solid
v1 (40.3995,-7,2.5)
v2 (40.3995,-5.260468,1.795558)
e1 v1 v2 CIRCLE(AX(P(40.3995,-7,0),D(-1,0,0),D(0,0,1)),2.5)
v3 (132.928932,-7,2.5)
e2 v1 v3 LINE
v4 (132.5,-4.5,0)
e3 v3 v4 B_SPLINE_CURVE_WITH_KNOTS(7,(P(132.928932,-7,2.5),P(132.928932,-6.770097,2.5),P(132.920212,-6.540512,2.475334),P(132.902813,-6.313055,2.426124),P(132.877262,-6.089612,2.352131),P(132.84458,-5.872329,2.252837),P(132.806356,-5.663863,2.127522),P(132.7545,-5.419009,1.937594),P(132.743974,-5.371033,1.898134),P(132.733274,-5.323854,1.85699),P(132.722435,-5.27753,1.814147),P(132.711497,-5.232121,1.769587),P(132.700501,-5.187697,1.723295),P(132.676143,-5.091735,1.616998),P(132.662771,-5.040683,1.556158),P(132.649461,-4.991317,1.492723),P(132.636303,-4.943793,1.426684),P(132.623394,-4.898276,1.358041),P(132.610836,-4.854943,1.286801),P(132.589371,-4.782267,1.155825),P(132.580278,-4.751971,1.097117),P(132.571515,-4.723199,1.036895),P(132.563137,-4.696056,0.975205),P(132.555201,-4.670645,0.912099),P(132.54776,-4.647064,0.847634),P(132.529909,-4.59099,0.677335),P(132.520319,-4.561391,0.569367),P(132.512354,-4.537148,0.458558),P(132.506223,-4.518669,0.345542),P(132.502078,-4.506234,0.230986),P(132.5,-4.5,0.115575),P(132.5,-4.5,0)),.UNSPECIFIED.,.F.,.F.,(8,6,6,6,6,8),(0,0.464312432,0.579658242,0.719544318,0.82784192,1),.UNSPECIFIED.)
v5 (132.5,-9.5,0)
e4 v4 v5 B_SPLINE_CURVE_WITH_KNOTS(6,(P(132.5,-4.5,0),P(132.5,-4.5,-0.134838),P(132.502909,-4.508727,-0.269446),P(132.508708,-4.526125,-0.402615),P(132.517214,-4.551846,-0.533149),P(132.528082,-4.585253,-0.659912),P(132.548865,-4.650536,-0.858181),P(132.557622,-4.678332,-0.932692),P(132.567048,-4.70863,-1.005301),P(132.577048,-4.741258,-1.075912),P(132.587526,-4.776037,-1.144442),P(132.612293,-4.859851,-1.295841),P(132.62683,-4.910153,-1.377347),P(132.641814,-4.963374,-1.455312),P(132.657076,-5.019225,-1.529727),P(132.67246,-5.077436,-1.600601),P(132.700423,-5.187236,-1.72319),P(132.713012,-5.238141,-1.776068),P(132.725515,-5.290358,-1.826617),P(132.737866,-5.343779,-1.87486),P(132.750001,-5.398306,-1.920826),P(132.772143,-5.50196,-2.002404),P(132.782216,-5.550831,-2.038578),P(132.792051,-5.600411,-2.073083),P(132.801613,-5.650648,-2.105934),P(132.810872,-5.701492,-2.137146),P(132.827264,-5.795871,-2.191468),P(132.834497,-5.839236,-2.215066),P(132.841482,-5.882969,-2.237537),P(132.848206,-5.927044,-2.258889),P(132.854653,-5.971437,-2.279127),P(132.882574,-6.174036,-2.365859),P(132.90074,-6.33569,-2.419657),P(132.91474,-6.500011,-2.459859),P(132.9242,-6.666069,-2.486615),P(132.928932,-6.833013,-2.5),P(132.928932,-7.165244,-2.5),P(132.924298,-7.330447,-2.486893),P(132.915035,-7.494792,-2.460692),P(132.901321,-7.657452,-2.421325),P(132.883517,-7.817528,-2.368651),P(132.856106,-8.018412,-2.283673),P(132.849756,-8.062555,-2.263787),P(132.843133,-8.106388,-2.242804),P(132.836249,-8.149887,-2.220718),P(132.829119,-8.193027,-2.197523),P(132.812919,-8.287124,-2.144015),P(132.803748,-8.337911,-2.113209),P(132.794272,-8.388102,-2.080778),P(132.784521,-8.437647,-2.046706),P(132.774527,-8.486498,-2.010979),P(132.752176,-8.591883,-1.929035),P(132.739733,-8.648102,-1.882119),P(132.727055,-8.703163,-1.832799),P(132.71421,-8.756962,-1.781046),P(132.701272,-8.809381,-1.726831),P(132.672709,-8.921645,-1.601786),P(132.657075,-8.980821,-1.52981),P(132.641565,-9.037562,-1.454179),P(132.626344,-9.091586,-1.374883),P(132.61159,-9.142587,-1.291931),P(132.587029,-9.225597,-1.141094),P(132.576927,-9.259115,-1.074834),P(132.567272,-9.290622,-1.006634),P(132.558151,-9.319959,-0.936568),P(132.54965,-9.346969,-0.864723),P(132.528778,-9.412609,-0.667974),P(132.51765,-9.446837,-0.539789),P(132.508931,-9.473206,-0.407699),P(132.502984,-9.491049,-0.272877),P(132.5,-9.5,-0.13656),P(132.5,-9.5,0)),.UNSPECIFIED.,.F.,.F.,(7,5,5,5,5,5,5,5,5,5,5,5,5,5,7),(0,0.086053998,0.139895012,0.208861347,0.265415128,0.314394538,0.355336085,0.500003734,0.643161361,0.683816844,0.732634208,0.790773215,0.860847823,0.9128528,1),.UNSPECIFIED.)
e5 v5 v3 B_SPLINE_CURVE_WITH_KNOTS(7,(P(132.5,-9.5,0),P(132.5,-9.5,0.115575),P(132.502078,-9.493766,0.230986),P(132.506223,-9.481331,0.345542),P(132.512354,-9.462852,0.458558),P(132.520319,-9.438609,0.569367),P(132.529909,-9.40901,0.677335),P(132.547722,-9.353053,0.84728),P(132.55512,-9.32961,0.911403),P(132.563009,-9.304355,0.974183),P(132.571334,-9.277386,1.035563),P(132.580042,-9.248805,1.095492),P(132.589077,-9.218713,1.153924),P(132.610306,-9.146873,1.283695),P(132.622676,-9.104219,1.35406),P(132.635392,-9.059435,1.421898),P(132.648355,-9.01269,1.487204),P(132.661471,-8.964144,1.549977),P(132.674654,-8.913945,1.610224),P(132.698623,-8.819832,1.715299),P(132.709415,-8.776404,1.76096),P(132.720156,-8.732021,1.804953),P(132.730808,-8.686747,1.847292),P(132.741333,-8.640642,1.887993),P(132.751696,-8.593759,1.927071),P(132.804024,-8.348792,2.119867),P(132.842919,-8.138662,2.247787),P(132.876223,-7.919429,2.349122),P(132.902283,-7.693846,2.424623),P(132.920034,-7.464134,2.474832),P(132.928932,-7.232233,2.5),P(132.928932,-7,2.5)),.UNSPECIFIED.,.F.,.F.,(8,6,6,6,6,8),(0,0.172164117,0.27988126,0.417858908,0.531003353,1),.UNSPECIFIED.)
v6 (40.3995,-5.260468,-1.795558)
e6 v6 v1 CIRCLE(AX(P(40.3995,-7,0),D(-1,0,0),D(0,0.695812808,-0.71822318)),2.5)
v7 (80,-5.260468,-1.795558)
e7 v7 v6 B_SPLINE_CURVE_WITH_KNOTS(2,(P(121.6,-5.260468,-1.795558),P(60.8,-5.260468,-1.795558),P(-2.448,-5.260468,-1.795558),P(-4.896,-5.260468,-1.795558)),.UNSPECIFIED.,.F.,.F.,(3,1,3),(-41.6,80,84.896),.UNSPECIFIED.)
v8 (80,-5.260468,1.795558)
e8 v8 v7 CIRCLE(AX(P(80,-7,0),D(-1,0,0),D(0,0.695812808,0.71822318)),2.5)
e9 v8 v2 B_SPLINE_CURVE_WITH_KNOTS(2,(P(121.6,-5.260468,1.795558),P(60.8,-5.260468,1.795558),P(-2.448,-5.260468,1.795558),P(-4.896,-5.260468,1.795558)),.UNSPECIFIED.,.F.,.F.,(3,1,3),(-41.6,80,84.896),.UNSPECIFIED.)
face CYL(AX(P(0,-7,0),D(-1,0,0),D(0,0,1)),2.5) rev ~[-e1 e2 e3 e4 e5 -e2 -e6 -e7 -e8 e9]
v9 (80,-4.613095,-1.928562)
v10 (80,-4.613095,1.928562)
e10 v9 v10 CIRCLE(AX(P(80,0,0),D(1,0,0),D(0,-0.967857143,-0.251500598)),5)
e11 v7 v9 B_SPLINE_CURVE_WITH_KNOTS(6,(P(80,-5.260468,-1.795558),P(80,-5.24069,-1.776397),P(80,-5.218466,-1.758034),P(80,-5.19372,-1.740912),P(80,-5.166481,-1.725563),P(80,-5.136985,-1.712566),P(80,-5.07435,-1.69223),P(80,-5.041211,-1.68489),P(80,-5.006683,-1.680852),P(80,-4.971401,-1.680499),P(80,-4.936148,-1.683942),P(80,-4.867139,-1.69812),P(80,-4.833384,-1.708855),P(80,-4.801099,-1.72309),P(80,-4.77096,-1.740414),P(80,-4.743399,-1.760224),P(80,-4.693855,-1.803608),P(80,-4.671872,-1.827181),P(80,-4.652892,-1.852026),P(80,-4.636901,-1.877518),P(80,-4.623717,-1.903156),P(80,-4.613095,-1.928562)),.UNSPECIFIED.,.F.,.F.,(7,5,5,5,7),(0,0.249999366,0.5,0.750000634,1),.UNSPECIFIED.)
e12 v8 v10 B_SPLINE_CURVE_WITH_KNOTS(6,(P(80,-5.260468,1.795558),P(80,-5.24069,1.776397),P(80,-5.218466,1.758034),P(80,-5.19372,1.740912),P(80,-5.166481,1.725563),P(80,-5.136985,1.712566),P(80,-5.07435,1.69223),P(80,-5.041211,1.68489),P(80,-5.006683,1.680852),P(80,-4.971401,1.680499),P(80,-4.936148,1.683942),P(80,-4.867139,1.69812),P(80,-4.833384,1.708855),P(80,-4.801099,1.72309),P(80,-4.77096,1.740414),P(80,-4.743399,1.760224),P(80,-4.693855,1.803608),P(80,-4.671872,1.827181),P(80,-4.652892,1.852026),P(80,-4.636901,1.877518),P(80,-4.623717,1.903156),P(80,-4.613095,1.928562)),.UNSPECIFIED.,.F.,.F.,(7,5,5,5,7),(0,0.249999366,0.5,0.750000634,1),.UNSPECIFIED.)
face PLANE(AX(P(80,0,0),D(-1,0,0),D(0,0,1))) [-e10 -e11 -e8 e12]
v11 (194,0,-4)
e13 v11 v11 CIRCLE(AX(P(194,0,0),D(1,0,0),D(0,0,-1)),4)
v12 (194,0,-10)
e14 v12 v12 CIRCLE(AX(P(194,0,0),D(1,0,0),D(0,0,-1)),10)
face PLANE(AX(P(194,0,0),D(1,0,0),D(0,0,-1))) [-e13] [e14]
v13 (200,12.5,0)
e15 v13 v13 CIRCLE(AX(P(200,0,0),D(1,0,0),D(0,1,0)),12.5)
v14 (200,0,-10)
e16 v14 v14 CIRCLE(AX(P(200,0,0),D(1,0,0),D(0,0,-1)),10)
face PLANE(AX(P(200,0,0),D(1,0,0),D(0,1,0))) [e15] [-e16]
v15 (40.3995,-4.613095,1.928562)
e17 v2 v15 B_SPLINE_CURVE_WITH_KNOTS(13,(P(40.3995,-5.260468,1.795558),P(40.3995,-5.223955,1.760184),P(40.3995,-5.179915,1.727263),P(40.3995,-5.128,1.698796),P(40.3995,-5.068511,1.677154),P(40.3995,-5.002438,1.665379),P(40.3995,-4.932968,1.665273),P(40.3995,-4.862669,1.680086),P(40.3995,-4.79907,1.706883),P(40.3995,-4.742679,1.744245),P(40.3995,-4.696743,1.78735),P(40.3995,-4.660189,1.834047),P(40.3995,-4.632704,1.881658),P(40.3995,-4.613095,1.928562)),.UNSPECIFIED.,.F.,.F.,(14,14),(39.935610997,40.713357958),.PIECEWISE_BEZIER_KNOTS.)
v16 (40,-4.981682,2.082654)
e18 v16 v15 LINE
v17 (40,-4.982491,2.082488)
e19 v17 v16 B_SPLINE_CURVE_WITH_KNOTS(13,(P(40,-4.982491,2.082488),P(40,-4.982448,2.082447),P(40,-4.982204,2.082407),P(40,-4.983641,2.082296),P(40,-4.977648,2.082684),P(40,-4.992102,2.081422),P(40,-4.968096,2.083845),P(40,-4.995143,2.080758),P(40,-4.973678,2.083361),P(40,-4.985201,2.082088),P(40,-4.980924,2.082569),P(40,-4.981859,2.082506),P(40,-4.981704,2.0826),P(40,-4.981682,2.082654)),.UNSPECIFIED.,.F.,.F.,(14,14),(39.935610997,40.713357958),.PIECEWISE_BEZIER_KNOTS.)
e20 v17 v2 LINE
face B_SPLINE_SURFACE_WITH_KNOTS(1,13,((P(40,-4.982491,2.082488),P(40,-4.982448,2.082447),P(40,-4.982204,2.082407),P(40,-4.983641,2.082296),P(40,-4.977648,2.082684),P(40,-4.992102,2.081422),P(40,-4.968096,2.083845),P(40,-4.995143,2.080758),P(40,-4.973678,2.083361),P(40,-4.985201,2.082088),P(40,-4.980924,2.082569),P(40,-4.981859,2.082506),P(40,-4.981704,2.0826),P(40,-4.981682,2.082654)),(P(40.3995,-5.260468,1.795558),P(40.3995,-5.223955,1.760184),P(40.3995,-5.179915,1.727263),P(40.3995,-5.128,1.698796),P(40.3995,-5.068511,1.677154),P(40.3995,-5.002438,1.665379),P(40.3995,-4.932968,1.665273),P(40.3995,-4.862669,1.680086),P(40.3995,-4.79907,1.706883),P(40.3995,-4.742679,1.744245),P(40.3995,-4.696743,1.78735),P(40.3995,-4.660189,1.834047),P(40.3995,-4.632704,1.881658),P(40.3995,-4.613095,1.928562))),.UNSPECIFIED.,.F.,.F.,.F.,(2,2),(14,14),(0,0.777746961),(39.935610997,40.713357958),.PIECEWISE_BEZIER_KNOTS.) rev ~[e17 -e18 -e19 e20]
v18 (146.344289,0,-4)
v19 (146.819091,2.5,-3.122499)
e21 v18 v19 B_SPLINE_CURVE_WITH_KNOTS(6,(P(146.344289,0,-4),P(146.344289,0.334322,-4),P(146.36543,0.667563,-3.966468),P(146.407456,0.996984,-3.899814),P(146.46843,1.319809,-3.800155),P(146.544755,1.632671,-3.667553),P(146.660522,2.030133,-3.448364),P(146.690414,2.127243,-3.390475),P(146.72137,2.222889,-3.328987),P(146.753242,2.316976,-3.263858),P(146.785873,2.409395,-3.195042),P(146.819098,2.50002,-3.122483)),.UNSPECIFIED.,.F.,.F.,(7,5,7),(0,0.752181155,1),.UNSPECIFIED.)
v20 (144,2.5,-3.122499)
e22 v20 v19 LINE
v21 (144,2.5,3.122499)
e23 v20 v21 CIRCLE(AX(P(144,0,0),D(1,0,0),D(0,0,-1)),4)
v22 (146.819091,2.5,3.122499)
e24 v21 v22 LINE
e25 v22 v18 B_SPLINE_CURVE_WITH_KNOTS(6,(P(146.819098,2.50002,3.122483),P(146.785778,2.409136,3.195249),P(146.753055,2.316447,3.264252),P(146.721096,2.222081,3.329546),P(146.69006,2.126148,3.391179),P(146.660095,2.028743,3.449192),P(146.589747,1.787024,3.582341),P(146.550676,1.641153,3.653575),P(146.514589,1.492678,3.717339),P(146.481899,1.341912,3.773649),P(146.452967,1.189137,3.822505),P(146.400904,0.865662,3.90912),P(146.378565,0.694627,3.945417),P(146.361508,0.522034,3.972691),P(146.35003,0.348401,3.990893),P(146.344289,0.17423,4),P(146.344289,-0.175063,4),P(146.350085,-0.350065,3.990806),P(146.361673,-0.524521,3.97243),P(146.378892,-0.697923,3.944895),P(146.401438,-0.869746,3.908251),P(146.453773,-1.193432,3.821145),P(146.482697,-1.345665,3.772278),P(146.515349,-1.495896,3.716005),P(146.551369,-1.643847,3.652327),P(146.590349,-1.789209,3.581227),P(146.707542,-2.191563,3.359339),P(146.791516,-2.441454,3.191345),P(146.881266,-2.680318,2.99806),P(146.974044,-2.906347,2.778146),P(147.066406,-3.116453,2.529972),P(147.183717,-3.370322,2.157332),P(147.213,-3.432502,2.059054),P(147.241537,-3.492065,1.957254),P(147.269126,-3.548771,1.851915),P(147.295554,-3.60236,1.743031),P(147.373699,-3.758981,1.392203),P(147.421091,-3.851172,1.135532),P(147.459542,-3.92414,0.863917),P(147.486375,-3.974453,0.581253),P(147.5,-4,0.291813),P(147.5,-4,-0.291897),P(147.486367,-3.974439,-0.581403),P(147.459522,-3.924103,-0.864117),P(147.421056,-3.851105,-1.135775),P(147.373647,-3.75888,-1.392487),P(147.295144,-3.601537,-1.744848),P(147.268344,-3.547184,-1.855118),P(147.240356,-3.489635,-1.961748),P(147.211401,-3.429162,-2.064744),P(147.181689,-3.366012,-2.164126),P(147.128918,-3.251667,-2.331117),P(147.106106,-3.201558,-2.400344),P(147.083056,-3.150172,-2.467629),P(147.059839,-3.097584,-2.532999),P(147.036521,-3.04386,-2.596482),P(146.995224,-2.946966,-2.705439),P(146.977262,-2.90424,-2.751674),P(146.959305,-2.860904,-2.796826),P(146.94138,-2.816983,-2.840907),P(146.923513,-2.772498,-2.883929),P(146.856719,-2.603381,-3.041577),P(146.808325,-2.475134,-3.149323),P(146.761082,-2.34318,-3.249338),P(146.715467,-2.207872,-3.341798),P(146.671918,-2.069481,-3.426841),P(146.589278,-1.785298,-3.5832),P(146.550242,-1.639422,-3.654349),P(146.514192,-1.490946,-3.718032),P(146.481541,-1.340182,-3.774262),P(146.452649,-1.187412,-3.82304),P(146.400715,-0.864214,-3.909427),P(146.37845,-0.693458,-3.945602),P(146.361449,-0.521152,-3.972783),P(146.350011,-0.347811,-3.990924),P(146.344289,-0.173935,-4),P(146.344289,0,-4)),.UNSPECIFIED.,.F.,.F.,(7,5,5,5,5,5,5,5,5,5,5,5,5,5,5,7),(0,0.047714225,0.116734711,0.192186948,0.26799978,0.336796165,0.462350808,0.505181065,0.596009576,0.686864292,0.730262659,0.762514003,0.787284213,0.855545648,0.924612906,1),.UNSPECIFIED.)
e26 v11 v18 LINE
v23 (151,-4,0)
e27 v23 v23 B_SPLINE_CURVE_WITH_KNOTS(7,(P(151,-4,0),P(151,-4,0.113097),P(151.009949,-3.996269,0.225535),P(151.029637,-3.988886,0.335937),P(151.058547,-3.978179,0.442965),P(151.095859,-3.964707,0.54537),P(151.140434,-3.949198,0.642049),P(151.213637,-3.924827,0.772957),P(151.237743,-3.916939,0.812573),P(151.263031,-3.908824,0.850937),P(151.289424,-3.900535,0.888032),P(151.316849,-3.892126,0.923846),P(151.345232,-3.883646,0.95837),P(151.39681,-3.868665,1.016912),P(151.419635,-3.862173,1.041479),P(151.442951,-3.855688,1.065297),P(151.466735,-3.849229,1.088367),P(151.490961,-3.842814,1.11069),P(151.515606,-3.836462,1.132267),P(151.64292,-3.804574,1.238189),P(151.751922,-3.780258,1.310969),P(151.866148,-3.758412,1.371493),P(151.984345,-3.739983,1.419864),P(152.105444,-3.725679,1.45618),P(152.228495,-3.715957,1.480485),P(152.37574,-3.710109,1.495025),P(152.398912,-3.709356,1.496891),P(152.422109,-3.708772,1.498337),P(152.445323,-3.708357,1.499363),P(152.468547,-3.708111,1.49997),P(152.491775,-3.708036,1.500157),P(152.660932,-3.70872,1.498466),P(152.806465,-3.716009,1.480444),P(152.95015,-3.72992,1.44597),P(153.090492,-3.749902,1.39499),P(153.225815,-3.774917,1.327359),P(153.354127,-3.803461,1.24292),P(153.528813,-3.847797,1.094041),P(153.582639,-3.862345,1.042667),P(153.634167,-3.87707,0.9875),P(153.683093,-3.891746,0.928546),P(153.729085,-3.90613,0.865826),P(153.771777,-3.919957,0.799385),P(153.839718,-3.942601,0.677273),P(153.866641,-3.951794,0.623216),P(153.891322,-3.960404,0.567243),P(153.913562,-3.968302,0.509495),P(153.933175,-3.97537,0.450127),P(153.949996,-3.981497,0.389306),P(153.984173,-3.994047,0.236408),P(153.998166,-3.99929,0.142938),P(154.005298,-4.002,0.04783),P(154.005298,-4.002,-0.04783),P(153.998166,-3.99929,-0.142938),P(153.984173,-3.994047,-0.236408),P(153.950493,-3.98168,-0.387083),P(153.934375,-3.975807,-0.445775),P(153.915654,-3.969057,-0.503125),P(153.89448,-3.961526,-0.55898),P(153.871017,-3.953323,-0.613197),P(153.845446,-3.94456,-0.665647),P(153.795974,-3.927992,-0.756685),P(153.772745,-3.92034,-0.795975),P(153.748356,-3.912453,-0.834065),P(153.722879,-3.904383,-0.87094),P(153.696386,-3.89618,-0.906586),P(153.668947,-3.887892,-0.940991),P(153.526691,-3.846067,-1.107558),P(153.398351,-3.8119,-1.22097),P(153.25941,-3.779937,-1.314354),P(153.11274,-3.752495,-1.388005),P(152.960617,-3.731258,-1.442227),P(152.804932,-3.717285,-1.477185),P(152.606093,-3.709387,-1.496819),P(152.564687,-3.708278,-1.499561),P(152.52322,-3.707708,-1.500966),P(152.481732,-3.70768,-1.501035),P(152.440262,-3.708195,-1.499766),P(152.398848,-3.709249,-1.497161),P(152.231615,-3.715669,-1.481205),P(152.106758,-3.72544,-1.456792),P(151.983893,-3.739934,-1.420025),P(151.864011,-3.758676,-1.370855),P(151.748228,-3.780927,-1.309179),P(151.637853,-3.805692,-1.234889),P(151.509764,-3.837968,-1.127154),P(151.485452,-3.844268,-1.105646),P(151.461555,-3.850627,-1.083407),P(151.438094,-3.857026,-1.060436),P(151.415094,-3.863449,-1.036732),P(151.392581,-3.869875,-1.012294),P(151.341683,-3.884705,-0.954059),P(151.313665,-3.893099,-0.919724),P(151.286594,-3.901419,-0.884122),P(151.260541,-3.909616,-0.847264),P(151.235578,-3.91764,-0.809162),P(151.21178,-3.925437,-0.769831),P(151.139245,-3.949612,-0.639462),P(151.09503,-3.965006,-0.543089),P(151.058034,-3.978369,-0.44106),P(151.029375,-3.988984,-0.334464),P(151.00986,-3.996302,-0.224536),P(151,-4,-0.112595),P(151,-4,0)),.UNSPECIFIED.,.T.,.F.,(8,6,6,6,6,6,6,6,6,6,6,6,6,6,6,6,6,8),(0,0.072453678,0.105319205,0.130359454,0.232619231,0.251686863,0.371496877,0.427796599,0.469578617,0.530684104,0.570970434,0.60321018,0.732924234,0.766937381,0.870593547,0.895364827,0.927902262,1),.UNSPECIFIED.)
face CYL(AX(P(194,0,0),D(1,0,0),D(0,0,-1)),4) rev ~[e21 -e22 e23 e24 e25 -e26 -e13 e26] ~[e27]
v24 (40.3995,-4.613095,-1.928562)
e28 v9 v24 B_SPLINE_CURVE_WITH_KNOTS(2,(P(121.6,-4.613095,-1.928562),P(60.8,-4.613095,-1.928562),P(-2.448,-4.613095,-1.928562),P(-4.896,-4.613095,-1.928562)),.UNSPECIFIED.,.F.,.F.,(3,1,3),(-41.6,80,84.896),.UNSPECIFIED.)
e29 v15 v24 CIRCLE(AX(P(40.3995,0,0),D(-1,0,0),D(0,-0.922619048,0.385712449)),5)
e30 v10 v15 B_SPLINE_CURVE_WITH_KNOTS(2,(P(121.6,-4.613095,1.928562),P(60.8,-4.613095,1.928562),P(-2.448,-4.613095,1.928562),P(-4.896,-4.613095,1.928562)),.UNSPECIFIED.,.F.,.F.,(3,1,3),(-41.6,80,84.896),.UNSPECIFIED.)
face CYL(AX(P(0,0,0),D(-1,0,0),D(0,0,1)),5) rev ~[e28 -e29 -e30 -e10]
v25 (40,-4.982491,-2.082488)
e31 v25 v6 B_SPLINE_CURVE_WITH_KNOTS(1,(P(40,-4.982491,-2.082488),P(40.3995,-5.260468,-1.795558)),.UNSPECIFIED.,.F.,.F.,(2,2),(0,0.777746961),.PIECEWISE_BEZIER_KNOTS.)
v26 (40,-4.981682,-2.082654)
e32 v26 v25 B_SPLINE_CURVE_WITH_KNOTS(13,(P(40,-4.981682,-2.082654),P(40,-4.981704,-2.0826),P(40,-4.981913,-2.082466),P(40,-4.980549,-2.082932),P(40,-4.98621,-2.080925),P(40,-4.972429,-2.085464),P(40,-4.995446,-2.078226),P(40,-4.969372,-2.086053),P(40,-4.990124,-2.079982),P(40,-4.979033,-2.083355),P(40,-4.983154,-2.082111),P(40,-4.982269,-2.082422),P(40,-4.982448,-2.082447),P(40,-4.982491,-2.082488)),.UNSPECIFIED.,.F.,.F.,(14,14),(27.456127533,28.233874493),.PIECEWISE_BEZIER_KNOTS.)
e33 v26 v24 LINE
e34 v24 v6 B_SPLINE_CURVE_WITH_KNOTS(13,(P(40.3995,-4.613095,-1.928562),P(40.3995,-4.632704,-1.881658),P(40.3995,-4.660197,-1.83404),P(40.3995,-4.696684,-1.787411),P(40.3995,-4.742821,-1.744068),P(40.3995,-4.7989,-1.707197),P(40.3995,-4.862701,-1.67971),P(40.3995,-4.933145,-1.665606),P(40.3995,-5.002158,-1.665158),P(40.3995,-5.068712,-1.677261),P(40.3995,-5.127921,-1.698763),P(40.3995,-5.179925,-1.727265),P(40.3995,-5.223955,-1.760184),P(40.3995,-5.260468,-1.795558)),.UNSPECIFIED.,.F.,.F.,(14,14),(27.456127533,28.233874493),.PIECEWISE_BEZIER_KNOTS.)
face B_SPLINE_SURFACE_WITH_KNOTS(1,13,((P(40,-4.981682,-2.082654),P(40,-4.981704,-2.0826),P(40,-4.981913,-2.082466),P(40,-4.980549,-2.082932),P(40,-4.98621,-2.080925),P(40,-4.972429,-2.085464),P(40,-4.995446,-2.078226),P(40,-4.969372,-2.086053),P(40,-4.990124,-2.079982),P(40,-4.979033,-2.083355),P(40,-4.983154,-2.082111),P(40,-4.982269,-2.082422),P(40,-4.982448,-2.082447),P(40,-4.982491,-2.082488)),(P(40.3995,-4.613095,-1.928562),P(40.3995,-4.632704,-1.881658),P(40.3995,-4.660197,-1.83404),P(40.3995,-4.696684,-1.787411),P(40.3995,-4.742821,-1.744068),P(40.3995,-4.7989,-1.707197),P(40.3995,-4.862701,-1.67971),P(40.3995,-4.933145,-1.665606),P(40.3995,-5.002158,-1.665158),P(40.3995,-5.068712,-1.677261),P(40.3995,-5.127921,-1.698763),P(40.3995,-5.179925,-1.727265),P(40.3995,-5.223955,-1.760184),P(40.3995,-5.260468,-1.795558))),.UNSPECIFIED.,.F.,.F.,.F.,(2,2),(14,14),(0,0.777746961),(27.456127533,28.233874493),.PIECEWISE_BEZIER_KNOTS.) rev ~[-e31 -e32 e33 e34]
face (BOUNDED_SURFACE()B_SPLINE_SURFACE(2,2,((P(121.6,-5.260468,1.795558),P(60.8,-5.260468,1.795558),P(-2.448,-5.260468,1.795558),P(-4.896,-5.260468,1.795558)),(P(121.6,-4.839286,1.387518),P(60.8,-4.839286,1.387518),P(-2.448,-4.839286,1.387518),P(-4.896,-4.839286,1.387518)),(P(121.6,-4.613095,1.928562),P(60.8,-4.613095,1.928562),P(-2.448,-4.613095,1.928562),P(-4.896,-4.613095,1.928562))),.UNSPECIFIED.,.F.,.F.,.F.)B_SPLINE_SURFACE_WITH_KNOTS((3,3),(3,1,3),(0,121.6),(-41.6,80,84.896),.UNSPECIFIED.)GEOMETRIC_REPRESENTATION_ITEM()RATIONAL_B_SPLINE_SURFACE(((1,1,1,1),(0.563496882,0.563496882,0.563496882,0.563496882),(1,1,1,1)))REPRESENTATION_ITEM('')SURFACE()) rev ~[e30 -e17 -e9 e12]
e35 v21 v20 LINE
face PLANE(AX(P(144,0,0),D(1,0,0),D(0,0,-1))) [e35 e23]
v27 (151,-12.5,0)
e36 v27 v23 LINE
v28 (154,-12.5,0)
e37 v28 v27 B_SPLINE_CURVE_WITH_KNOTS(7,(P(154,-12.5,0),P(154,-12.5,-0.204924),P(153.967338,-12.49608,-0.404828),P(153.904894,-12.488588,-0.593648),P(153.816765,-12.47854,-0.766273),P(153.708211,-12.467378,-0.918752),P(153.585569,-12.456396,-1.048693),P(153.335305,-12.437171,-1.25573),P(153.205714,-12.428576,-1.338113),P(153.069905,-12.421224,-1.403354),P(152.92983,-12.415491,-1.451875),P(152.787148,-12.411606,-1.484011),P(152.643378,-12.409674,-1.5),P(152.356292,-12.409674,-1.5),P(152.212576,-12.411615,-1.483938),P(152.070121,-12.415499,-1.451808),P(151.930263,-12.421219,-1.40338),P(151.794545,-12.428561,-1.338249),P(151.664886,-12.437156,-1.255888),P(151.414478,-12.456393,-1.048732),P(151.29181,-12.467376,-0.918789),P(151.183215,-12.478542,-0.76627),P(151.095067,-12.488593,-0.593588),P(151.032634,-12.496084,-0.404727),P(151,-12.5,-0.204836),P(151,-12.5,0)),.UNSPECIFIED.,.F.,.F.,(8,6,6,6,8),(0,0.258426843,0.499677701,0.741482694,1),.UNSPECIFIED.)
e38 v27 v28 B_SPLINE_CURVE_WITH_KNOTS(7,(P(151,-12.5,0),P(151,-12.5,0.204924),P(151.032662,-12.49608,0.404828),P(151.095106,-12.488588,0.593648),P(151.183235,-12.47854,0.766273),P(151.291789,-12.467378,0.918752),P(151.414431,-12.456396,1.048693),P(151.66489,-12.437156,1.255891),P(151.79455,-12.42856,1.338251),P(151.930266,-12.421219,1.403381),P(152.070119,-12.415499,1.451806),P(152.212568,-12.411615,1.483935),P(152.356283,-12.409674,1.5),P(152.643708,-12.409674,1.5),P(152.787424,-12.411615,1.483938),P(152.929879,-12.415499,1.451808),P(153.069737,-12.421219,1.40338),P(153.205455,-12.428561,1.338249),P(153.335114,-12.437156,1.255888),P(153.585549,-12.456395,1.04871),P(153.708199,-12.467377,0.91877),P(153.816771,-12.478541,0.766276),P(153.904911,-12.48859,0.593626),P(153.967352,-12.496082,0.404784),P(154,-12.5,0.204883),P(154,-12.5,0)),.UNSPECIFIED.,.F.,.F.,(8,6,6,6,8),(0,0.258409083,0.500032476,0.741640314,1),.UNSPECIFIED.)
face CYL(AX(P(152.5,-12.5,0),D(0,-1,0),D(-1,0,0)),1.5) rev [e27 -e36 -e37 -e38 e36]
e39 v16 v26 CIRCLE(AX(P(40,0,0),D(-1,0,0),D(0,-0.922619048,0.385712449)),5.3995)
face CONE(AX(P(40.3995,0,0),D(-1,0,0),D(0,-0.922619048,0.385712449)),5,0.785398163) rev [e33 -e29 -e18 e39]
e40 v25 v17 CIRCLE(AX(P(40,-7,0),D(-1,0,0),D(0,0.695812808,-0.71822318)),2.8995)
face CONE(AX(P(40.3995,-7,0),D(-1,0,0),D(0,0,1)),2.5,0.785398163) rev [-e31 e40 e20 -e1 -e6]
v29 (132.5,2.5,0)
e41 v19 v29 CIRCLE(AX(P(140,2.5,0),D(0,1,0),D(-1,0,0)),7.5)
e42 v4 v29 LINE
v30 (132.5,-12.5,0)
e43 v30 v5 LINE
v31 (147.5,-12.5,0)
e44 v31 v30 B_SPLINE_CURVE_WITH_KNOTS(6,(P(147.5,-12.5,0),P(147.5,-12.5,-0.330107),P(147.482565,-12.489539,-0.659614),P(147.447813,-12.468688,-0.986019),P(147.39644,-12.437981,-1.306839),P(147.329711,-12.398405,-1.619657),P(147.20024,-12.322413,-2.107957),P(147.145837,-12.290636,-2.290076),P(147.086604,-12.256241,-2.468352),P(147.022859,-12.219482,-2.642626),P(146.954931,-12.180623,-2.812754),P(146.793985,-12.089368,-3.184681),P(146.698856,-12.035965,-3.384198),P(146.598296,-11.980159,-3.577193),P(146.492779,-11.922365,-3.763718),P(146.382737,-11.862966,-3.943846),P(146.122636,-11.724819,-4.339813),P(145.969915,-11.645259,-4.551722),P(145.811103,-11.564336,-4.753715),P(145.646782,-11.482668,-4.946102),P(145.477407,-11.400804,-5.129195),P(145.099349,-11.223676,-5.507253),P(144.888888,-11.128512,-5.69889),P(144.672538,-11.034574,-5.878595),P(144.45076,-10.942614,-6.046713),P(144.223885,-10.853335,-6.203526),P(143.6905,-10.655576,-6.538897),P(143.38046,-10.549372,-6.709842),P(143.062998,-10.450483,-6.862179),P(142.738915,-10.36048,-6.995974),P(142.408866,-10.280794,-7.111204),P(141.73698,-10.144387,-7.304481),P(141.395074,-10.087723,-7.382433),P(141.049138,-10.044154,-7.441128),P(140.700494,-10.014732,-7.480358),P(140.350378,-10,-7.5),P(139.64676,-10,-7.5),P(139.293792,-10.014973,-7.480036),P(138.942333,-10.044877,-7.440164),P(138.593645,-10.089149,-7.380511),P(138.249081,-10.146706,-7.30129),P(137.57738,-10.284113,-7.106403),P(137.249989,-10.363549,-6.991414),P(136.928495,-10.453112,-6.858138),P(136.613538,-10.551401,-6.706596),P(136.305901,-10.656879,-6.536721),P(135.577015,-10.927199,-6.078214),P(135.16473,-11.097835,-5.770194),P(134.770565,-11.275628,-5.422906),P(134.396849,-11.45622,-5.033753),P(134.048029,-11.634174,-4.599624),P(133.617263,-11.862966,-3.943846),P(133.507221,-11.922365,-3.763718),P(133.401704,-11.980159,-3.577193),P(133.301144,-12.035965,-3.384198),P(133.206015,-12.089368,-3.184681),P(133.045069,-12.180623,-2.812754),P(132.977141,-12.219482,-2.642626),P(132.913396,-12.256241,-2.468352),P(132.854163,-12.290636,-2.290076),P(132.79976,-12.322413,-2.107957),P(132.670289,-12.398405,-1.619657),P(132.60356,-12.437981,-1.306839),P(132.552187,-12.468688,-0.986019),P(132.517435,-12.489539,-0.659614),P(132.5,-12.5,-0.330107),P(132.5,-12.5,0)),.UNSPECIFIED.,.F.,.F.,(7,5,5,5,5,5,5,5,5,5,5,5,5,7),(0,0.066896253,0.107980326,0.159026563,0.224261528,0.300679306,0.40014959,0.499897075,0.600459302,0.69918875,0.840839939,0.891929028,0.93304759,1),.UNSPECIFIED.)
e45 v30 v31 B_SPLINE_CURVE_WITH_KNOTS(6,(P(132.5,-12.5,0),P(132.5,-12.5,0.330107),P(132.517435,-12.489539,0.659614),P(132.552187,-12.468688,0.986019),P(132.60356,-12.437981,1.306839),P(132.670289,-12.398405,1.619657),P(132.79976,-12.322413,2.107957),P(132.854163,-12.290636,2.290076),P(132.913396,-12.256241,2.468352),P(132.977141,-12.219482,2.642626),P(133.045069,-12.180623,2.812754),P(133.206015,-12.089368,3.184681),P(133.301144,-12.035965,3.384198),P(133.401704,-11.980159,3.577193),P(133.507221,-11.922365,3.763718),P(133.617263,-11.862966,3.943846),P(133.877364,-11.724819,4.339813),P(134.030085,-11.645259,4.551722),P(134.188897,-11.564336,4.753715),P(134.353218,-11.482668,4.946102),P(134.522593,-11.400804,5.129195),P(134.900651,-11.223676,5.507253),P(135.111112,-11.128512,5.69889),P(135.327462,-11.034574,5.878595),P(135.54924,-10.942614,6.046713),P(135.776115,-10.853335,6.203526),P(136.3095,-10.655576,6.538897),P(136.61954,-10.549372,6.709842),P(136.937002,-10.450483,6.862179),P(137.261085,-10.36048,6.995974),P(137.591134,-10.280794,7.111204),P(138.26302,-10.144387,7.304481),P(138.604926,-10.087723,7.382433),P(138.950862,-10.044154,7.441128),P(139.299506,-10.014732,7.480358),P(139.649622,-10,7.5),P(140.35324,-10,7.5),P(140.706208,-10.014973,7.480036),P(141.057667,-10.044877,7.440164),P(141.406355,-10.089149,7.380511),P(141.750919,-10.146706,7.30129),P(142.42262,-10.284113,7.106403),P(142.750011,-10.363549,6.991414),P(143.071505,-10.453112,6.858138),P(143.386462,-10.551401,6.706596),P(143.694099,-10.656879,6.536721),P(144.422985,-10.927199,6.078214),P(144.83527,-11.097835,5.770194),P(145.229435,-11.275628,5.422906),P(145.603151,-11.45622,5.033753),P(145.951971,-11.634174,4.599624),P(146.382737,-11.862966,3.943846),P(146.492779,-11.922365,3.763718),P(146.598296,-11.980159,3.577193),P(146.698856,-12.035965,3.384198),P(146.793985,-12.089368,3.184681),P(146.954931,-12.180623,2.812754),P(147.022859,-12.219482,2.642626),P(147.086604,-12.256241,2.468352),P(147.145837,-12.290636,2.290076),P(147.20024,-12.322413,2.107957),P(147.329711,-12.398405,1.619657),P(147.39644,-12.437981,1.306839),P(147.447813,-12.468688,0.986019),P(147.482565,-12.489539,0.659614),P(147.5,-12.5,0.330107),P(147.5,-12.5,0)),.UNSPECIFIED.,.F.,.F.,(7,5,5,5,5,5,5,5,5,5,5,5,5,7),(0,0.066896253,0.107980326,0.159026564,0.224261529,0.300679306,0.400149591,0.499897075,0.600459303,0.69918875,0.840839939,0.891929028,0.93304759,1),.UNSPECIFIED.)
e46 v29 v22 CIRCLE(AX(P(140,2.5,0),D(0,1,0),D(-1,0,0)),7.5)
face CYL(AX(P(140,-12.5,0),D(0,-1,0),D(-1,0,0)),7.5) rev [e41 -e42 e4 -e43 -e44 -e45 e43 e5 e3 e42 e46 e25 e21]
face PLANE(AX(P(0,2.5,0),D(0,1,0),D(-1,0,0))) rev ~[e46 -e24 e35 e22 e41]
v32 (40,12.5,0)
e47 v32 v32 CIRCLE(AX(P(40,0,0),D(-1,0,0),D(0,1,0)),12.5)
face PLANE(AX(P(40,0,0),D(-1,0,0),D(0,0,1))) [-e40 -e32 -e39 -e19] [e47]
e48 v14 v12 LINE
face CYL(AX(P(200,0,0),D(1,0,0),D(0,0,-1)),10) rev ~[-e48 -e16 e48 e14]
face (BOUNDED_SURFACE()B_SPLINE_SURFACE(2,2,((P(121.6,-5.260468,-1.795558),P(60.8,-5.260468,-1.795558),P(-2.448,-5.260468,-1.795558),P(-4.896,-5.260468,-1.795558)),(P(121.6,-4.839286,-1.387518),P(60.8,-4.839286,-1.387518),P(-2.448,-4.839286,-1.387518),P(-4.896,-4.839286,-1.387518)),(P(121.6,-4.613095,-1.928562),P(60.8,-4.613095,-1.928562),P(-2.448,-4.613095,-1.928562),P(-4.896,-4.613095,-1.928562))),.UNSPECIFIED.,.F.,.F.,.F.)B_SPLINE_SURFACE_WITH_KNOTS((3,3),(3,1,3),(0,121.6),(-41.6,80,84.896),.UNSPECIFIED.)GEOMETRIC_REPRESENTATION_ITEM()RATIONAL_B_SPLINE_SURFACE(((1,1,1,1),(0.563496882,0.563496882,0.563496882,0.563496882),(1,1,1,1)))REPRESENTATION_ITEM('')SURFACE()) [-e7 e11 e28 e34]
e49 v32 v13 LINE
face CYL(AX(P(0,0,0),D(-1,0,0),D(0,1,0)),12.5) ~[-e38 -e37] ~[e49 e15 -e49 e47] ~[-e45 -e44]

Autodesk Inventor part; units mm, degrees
ref_plane "YZ Plane" through (0, 0, 0) normal (1, 0, 0) x (0, 1, 0)
sketch "Sketch1" plane through (0, 0, 0) normal (1, 0, 0) x (0, 1, 0)
  circle A0 centre (0, 0) radius 12.5
  dimension "d0" = 25
extrude "Extrusion1" add sketch "Sketch1" along normal blind 200
ref_plane "Work Plane1" through (0, -12.5, 0) normal (0, 1, 0) x (-1, 0, 0)
sketch "Sketch2" plane through (0, -12.5, 0) normal (0, 1, 0) x (-1, 0, 0)
  line L0 (-200, 12.5) -> (-200, -12.5) projected
  line L1 (-200, 0) -> (-140, 0)
  circle A0 centre (-140, 0) radius 7.5
  point P0 (0, 0)
  dimension "d19" = 60
  dimension "d20" = 15
extrude "Extrusion2" cut sketch "Sketch2" along normal blind 15
sketch "Sketch3" plane through (0, 0, 0) normal (-1, 0, 0) x (0, 0, 1)
  line L0 (0, 0) -> (0, -7)
  circle A0 centre (0, -7) radius 2.5
  dimension "d9" = 7
  dimension "d10" = 5
extrude "Extrusion3" cut sketch "Sketch3" against normal blind 136
sketch "Sketch4" plane through (200, 0, 0) normal (1, 0, 0) x (0, 0, -1)
  circle A0 centre (0, 0) radius 10
  dimension "d13" = 20
extrude "Extrusion4" cut sketch "Sketch4" against normal blind 6
sketch "Sketch5" plane through (194, 0, 0) normal (1, 0, 0) x (0, 0, -1)
  circle A0 centre (0, 0) radius 4
  dimension "d16" = 8
extrude "Extrusion5" cut sketch "Sketch5" against normal blind 50
sketch "Sketch6" plane through (0, 0, 0) normal (-1, 0, 0) x (0, 0, 1)
  circle A0 centre (0, 0) radius 5
  dimension "d21" = 10
extrude "Extrusion6" cut sketch "Sketch6" against normal blind 80
fillet "Fillet1" radius 0.4 2 edges at (40, -4.8393, 1.2575) (40, -4.8393, -1.2575)
sketch "Sketch7" plane through (0, 0, 0) normal (-1, 0, 0) x (0, 0, 1)
  circle A0 centre (0, 0) radius 38.5321
extrude "Extrusion7" cut sketch "Sketch7" against normal blind 40
chamfer "Chamfer1" distance 0.4 angle 45 5 edges at (40, 5, 0) (40, -4.9016, 1.691) (40, -4.9016, -1.691) (40, -6.0616, 2.3172) (40, -9.3172, -0.9384)
ref_plane "Work Plane2" through (0, -12.5, 0) normal (0, 1, 0) x (-1, 0, 0)
sketch "Sketch8" plane through (0, -12.5, 0) normal (0, 1, 0) x (-1, 0, 0)
  circle A0 centre (-152.5, 0) radius 1.5
  line L0 (-200, 12.5) -> (-200, -12.5) projected
  point P0 (0, 0)
  dimension "d31" = 3
  dimension "d32" = 47.5
extrude "Extrusion8" cut sketch "Sketch8" along normal blind 10
properties part number "Dowel1"
